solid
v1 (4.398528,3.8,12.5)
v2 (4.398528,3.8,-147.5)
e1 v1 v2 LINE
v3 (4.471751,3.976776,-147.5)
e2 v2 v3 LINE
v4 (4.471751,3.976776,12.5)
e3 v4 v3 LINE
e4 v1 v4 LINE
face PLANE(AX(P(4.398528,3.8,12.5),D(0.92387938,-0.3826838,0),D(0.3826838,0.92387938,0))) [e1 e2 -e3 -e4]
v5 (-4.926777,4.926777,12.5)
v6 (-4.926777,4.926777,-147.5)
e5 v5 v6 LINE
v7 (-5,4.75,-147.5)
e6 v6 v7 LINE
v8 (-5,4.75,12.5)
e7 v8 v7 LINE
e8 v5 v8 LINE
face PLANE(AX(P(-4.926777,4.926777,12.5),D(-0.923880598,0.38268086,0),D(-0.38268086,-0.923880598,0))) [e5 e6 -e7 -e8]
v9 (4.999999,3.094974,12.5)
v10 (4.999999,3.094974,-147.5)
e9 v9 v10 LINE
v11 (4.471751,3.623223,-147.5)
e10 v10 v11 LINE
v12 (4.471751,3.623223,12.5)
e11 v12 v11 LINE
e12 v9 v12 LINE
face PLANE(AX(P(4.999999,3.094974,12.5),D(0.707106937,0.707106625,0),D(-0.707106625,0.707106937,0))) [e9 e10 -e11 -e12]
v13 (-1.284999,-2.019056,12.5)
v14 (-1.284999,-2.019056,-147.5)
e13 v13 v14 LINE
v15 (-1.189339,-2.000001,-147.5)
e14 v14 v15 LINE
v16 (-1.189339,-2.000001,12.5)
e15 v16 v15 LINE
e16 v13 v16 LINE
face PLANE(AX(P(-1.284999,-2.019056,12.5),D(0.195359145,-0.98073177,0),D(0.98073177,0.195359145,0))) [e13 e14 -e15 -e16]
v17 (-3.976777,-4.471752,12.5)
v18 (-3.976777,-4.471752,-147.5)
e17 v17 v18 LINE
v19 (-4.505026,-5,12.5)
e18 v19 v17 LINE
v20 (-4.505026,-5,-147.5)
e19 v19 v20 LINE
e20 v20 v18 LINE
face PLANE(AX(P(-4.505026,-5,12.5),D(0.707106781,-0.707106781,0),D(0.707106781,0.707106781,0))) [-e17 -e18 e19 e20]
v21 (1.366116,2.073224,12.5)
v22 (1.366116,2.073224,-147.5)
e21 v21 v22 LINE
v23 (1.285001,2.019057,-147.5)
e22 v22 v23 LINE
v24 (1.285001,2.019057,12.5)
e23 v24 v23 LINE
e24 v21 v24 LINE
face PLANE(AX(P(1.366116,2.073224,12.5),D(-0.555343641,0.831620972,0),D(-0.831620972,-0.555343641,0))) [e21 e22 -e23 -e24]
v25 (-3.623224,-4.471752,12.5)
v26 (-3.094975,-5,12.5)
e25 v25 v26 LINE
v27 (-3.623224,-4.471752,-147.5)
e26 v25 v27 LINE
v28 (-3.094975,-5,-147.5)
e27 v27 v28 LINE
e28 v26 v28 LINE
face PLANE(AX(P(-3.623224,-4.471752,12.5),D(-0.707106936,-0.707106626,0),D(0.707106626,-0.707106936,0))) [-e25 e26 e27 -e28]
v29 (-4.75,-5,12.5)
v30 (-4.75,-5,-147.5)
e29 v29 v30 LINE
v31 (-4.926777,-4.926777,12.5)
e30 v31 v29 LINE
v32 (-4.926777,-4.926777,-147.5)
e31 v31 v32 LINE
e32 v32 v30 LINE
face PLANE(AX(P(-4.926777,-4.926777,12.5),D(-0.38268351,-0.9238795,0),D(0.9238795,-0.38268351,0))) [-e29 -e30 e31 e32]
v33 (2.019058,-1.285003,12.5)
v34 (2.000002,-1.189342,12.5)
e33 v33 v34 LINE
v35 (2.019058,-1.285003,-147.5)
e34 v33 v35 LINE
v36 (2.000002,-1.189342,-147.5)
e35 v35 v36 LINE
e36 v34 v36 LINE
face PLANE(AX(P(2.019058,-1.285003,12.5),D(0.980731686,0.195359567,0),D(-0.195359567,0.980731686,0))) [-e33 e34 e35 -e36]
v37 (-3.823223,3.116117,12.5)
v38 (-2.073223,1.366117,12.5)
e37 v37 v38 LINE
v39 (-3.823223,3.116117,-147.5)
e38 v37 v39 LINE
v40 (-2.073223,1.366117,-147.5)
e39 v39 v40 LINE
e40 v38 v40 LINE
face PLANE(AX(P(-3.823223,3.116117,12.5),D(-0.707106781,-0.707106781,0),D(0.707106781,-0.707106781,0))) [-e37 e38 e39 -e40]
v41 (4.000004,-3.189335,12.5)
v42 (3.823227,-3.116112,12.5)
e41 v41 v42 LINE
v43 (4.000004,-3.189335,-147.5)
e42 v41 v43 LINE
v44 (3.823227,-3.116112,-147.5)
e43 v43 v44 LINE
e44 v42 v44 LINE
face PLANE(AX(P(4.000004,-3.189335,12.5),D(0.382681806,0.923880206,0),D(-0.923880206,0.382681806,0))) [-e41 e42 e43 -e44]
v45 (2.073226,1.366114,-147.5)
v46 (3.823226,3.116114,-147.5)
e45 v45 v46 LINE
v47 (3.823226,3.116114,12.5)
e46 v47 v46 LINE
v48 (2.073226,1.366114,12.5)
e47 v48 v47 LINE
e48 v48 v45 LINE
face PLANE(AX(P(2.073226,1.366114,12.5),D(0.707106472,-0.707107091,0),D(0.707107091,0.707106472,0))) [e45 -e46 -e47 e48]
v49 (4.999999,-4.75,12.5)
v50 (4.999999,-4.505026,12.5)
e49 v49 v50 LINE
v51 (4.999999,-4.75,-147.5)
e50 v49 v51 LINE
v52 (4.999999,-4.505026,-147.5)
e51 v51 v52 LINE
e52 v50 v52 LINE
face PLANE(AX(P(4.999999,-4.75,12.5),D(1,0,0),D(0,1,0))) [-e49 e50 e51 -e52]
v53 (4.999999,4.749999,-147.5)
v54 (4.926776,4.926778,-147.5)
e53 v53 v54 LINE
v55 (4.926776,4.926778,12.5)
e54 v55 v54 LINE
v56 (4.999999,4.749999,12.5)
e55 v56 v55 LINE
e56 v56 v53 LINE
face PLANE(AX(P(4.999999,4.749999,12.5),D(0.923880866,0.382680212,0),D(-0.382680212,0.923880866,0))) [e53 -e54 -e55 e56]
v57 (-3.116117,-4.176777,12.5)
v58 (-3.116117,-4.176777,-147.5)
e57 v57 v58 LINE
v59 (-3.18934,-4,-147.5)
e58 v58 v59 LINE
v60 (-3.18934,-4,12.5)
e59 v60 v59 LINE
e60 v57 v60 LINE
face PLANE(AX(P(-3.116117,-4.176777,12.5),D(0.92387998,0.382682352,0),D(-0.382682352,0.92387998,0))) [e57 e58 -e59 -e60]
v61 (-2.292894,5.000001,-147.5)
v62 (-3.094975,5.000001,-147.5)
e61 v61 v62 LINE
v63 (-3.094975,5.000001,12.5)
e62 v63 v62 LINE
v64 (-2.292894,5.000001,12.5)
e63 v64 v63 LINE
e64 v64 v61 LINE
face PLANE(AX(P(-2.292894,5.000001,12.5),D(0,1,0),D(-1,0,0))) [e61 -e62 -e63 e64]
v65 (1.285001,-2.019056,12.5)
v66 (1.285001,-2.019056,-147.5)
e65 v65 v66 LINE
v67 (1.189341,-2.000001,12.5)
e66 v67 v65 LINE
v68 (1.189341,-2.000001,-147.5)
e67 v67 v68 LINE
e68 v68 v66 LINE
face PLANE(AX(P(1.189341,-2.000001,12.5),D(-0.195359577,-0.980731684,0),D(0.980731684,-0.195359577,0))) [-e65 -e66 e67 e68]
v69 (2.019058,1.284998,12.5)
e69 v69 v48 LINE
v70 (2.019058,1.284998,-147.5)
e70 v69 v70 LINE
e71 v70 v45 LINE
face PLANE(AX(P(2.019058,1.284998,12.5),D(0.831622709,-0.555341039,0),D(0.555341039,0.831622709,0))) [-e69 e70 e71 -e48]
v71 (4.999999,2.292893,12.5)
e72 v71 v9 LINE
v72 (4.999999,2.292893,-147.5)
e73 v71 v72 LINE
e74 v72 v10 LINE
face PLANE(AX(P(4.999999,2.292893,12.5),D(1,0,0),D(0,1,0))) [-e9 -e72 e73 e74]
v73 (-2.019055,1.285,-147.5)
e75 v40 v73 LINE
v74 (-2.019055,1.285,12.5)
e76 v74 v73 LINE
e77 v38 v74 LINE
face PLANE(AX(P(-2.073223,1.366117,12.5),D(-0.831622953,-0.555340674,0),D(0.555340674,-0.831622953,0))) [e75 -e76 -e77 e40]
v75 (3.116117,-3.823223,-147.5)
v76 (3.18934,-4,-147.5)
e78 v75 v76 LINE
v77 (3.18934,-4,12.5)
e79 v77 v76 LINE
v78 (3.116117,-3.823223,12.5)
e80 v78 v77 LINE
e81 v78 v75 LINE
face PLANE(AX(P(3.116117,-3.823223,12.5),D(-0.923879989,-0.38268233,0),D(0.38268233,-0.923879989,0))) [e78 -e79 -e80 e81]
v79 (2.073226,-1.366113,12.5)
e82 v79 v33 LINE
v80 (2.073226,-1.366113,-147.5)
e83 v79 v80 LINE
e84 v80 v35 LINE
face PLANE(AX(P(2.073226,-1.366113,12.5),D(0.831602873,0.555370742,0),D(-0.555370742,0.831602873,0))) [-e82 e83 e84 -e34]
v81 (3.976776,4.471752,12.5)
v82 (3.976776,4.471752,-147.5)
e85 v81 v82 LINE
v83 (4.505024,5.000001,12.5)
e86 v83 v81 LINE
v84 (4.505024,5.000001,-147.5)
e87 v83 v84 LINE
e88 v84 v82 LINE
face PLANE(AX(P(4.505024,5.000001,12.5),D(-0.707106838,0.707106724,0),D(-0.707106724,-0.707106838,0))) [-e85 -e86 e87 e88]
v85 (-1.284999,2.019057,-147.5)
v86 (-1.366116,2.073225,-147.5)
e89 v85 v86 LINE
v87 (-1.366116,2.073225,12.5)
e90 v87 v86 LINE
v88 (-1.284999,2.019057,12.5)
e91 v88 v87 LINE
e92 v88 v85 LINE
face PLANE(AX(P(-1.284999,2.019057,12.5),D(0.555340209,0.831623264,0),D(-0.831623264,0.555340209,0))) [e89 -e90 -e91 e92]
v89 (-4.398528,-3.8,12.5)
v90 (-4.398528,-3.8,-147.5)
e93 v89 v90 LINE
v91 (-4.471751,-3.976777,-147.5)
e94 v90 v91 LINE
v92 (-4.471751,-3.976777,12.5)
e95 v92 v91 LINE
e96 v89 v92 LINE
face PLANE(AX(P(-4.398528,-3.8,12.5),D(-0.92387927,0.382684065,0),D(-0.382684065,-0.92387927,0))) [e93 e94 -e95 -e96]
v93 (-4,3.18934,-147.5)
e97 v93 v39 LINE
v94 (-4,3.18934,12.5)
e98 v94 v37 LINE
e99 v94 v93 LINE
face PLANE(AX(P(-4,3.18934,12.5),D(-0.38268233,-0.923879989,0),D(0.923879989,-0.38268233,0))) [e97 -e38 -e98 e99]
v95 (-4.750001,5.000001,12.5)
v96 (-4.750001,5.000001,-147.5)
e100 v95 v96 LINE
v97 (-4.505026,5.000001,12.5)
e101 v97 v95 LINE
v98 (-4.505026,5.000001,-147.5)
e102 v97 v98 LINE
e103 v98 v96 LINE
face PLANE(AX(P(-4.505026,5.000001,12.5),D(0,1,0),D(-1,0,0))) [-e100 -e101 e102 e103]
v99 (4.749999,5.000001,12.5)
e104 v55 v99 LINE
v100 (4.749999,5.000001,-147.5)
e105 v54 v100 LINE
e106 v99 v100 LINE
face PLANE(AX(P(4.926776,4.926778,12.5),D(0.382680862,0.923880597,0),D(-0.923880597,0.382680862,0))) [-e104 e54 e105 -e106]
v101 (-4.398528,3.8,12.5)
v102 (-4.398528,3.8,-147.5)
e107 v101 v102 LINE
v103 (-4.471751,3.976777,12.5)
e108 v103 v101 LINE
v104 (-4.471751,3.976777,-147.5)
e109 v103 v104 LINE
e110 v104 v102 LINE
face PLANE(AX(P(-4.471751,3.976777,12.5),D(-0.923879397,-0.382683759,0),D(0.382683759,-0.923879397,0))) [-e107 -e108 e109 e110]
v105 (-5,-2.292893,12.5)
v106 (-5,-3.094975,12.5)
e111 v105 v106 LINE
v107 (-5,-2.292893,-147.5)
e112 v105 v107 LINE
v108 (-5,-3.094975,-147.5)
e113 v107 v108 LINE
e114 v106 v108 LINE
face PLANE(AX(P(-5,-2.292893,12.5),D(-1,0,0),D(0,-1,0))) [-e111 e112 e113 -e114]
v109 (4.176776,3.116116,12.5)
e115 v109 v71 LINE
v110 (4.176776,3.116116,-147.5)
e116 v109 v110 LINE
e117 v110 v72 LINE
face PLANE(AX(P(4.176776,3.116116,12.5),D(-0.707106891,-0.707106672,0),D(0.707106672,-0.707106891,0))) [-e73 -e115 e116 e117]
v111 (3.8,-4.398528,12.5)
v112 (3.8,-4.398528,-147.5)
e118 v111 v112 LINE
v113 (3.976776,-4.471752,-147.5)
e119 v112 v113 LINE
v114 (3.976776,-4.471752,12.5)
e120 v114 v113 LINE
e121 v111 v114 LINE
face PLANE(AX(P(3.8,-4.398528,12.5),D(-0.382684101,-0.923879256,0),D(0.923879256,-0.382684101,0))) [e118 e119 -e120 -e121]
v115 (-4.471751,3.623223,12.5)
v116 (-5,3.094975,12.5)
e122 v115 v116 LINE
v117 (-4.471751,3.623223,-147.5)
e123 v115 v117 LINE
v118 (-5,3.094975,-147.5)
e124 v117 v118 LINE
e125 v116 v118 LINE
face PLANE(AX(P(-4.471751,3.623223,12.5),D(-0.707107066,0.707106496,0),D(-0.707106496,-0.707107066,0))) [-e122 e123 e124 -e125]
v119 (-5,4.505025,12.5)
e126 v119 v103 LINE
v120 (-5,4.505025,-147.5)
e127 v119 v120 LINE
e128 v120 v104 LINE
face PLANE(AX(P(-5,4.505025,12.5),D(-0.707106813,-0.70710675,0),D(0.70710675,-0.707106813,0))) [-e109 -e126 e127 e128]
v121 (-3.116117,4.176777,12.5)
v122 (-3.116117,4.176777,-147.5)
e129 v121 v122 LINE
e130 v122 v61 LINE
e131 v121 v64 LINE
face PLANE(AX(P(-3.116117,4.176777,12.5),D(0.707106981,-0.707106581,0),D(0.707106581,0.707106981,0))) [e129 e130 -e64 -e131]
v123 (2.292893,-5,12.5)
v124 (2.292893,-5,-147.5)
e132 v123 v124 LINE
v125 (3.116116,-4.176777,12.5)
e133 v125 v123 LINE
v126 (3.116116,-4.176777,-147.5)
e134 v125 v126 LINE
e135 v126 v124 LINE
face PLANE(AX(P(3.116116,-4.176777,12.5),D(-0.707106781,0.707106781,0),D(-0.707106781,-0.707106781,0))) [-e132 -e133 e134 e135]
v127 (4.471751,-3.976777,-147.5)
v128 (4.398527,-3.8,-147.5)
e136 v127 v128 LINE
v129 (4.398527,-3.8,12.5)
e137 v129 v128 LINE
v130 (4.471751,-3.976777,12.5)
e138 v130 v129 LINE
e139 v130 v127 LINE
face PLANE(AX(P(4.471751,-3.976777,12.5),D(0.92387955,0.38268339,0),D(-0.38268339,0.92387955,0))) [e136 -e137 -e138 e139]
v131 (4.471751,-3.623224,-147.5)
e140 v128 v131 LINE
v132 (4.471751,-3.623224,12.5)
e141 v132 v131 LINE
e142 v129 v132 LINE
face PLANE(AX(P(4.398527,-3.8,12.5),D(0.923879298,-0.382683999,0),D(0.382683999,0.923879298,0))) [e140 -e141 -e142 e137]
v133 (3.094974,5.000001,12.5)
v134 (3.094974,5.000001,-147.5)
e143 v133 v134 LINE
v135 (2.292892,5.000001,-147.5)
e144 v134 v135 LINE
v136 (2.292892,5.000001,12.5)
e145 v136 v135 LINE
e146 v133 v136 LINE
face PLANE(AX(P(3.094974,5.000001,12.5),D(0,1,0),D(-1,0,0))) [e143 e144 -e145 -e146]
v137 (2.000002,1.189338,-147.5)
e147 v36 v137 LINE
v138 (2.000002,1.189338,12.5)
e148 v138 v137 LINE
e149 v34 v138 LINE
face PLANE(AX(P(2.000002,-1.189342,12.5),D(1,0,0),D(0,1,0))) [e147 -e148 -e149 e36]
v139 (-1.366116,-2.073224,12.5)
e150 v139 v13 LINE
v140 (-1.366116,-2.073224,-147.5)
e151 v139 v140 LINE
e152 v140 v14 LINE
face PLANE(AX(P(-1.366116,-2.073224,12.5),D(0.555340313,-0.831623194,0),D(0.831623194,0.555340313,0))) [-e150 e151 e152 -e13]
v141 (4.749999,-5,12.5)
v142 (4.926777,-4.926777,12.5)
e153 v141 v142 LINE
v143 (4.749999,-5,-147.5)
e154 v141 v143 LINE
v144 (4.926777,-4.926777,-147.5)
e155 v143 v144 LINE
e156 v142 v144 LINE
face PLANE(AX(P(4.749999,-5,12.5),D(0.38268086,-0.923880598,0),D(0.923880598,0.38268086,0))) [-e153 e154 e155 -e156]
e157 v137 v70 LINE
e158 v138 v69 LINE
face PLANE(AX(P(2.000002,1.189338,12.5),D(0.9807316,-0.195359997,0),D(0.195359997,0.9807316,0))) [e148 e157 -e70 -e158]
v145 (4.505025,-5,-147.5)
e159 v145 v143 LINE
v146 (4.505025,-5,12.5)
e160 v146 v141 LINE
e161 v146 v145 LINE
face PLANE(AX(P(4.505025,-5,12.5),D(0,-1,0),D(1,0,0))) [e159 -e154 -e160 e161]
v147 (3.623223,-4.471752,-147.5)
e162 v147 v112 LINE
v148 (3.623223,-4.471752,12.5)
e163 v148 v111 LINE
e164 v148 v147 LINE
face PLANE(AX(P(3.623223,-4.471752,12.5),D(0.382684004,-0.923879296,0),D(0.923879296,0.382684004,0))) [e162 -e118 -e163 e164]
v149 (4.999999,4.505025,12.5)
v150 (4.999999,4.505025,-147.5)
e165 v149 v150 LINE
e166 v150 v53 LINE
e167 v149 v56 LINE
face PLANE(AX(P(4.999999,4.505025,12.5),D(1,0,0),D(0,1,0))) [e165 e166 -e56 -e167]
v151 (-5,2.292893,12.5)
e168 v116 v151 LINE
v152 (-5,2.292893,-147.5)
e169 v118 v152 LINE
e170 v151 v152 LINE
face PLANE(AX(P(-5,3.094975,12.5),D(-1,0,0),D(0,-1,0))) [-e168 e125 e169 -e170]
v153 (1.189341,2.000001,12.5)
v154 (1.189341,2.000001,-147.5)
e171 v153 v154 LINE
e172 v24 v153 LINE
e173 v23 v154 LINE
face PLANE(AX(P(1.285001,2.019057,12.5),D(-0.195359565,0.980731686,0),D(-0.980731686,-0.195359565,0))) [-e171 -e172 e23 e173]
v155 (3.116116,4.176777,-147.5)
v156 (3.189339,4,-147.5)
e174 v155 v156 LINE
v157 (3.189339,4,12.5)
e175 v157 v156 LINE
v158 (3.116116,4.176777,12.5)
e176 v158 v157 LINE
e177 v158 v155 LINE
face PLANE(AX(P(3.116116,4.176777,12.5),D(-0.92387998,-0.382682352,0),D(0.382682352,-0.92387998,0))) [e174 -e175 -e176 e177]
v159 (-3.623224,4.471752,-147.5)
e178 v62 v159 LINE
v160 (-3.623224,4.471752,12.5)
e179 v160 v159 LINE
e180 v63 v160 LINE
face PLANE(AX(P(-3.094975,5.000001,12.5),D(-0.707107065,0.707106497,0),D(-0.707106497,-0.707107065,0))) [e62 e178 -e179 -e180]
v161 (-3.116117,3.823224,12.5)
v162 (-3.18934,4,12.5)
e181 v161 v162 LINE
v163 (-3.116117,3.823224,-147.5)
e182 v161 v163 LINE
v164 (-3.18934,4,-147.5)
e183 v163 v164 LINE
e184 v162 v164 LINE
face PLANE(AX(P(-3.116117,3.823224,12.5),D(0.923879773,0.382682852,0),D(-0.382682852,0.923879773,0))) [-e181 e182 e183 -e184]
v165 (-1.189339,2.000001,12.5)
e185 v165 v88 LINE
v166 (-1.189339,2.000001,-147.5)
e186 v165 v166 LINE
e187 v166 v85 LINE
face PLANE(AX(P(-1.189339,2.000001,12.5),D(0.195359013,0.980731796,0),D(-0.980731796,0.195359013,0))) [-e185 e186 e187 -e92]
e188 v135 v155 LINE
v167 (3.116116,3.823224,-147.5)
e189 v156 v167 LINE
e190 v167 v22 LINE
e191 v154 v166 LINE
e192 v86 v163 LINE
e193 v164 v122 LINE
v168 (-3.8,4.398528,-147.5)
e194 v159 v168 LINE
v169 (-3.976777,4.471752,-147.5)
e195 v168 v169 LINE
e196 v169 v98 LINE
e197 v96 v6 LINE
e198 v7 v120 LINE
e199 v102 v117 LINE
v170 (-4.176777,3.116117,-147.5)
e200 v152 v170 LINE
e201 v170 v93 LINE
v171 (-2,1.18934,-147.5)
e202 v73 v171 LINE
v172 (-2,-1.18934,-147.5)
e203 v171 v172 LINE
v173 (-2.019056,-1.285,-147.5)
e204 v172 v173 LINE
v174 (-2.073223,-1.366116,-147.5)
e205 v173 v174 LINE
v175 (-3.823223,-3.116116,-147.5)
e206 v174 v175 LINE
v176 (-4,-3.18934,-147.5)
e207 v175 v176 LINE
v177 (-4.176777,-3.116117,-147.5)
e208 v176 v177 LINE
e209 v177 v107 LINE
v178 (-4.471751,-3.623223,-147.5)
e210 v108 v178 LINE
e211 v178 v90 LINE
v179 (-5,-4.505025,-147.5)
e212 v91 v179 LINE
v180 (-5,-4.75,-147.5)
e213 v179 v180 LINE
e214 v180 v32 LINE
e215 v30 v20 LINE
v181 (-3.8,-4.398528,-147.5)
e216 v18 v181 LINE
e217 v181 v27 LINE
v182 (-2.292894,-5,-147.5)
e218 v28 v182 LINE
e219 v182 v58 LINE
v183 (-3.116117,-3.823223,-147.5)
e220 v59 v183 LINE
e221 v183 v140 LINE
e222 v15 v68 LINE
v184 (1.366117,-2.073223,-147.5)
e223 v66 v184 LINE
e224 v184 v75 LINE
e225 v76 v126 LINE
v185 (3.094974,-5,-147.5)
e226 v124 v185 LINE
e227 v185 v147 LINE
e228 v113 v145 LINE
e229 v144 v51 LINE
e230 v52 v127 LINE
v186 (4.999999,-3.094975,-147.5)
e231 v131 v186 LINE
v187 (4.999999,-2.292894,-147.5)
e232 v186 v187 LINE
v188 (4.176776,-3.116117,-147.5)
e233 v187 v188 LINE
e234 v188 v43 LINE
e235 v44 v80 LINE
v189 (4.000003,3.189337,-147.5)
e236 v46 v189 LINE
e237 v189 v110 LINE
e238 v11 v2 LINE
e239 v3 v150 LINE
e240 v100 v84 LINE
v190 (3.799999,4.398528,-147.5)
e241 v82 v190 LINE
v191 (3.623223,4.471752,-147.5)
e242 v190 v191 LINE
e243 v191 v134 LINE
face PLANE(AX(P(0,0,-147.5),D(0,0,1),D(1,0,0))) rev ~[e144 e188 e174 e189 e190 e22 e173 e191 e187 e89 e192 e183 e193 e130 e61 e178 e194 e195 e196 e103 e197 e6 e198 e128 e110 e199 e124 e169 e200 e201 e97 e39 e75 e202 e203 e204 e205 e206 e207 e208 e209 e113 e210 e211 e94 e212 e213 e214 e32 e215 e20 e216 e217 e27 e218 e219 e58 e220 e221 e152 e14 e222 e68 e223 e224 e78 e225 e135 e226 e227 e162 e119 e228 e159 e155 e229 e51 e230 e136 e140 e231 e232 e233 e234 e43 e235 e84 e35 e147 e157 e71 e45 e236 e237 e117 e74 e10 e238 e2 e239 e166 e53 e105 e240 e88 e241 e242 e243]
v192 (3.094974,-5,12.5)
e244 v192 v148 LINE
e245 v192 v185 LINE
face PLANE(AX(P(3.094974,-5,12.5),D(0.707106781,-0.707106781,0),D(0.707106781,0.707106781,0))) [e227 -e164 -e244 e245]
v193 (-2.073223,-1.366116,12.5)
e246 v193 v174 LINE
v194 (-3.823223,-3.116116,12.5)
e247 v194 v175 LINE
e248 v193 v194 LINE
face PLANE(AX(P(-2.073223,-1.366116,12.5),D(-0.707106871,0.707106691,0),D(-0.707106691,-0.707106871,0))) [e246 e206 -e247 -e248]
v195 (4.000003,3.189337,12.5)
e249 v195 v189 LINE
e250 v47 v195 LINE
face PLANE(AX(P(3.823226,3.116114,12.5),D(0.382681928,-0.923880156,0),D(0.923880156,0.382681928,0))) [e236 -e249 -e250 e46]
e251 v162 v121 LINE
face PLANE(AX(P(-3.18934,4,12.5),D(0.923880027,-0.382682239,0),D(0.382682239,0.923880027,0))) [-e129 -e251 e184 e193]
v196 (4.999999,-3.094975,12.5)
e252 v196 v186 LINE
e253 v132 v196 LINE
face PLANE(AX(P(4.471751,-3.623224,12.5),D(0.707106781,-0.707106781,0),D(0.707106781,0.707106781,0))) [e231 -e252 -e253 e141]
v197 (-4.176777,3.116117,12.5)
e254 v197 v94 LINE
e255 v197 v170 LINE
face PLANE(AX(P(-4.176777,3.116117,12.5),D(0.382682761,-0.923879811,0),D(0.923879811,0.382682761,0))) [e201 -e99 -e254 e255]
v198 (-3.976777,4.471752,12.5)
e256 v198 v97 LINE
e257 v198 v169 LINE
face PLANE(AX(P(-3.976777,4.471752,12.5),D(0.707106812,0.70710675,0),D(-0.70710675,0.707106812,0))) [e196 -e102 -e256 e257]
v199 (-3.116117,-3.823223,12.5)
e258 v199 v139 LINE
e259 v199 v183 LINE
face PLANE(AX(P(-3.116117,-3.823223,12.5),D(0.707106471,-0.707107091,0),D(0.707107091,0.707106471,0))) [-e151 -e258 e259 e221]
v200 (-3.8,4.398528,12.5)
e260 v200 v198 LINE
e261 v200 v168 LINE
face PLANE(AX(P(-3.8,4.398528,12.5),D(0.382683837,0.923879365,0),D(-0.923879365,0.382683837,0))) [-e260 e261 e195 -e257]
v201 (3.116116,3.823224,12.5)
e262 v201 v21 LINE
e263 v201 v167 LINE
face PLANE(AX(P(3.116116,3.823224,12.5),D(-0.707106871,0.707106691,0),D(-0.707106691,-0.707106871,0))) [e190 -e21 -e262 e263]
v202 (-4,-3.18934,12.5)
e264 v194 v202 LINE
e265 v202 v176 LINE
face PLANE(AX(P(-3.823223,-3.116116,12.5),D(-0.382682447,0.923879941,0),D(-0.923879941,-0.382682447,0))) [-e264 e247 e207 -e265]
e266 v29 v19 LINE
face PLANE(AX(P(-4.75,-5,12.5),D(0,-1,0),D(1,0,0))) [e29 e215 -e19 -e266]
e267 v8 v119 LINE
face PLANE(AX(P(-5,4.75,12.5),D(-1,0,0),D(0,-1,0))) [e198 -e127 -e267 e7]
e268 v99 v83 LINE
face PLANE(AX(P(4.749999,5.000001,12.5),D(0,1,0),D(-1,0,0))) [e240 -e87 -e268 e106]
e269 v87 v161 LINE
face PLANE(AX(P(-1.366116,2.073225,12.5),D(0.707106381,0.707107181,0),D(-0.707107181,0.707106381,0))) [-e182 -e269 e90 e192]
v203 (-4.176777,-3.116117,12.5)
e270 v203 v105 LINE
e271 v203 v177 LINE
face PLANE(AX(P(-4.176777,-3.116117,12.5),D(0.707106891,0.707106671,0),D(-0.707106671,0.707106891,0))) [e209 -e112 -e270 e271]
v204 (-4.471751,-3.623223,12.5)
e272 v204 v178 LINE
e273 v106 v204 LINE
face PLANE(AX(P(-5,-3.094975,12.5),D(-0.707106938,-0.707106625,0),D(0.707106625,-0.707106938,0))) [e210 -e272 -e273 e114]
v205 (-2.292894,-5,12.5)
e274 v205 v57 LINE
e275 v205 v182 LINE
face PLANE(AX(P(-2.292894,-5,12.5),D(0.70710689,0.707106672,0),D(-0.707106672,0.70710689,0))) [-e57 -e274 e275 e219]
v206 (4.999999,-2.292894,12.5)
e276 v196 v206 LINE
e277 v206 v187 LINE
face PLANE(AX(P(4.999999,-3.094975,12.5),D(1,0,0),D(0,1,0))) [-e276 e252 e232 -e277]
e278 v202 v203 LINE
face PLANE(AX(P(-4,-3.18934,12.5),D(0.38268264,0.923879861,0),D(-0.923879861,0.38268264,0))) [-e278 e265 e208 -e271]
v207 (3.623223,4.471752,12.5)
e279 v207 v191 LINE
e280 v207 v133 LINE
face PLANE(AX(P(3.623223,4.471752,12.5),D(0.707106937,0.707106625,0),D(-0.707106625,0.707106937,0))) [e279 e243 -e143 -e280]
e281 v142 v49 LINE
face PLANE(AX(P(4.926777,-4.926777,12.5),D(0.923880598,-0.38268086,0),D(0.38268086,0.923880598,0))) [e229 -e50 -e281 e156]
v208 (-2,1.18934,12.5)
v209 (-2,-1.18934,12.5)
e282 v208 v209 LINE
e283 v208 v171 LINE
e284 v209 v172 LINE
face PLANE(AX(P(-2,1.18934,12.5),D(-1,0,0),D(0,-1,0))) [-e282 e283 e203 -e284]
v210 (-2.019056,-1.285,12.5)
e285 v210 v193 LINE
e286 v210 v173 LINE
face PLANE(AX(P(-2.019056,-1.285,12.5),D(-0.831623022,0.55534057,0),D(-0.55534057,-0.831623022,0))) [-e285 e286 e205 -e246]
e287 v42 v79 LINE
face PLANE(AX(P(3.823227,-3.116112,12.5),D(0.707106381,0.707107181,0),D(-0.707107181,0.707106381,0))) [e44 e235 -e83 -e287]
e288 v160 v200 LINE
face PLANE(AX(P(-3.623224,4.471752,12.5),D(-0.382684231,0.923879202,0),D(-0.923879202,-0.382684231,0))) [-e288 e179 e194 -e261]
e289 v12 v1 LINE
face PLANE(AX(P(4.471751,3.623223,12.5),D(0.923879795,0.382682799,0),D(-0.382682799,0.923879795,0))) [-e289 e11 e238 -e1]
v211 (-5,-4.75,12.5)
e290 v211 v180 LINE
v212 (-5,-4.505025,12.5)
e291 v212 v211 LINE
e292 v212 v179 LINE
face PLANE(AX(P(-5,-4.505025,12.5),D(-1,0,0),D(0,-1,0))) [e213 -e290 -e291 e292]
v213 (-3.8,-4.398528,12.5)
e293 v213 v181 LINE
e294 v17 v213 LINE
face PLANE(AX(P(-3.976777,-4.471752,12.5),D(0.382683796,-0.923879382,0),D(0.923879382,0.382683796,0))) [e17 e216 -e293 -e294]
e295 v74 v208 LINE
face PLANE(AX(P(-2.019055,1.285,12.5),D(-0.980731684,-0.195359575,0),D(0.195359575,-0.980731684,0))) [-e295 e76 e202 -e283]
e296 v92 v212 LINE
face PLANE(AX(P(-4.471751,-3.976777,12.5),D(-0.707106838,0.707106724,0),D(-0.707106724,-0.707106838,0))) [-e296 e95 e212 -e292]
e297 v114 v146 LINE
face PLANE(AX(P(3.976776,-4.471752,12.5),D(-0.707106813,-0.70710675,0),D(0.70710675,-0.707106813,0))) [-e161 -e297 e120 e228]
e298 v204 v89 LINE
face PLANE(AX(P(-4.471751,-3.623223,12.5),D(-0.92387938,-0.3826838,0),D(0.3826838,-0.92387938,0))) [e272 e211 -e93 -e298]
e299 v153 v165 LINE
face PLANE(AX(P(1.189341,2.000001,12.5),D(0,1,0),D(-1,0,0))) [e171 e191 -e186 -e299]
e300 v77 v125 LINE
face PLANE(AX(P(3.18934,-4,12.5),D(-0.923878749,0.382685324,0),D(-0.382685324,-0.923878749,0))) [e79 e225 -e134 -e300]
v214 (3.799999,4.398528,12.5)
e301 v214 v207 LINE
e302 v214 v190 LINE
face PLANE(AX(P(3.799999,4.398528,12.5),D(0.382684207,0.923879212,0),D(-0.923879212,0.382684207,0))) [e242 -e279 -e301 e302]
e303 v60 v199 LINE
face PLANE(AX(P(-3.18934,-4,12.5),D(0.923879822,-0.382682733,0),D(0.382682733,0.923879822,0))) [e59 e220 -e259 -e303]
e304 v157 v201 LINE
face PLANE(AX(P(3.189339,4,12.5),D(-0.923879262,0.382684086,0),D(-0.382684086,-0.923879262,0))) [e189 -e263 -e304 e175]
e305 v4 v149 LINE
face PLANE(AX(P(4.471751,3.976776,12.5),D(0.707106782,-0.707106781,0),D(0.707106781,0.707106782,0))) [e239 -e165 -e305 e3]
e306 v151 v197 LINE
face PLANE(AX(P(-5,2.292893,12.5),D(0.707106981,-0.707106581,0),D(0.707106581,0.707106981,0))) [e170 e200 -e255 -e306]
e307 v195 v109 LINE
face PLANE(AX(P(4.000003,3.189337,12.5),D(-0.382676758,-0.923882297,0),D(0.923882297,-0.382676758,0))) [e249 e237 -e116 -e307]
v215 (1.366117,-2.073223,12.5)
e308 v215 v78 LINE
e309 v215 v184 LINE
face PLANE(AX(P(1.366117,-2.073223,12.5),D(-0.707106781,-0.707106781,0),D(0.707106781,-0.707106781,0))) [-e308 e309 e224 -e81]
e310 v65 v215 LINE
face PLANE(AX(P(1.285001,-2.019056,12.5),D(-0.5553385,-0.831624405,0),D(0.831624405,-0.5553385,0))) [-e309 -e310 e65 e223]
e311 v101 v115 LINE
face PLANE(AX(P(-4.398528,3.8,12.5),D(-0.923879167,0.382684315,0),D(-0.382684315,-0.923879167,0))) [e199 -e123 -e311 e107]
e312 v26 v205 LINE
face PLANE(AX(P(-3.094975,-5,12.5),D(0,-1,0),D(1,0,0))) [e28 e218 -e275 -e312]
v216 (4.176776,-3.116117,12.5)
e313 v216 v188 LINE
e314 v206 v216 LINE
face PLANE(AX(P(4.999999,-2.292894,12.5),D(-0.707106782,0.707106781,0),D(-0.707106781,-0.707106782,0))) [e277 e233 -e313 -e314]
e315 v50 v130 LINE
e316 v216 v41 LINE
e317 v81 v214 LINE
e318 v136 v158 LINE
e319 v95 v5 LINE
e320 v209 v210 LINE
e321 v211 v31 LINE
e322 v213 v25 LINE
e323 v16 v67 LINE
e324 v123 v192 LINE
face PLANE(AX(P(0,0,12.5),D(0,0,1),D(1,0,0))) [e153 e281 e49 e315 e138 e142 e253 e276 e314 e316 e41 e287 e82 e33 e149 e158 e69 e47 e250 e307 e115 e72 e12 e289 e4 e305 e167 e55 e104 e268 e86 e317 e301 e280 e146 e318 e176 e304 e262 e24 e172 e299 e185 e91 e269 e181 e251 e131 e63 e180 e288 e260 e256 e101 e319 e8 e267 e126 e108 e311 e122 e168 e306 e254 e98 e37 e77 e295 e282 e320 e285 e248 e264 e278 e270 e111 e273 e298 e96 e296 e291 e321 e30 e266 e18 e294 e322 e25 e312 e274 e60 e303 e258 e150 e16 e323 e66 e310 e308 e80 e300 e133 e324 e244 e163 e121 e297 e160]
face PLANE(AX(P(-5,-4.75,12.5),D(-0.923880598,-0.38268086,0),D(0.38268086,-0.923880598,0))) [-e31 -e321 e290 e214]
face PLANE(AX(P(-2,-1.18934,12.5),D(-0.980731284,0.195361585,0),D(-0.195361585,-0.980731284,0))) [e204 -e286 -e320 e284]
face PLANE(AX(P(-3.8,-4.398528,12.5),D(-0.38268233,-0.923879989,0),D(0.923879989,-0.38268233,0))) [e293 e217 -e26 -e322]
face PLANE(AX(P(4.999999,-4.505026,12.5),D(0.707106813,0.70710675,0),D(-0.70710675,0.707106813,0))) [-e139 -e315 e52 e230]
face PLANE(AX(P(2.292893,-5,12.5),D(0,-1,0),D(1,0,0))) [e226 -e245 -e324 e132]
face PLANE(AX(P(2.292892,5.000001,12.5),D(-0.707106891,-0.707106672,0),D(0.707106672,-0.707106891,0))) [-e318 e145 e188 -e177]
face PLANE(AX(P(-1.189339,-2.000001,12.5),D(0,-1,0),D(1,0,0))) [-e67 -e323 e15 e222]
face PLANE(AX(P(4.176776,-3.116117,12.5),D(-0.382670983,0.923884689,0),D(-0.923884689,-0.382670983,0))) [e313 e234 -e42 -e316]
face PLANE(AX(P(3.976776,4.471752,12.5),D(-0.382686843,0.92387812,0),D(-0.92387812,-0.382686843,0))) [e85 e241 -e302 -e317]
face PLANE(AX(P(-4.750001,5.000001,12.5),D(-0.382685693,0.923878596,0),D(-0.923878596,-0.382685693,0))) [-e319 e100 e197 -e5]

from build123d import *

# Parameters (mm, degrees)
BOSS_EXTRUDE1_DEPTH = 160


with BuildPart() as part:
    # Sketch1 → Boss-Extrude1 (new body)
    with BuildSketch(Plane.XY.offset(12.500000186)):
        Polygon((1.366116014, 2.07322405), (1.28500117, 2.01905681), (1.189340837, 2.000001485), (-1.189338975, 2.000001485), (-1.284999318, 2.019056756), (-1.366115682, 2.073224527), (-3.116116726, 3.823223591), (-3.189339968, 4.000000449), (-3.116116926, 4.176777156), (-2.292893894, 5.000000654), (-3.094975438, 5.000000654), (-3.623223835, 4.471751833), (-3.800000473, 4.398528373), (-3.976777136, 4.471751755), (-4.505025989, 5.000000654), (-4.750000613, 5.000000654), (-4.926776979, 4.926776979), (-4.999999888, 4.749999847), (-4.999999888, 4.505025223), (-4.471751419, 3.976776707), (-4.398528052, 3.800000038), (-4.471751492, 3.623223494), (-4.999999888, 3.094974672), (-4.999999888, 2.292893128), (-4.176776856, 3.116116626), (-4.00000019, 3.189339768), (-3.823223291, 3.116116626), (-2.073223237, 1.366116572), (-2.019055421, 1.285000239), (-2.000000095, 1.189339906), (-2.000000095, -1.189339906), (-2.019055549, -1.284999858), (-2.073223355, -1.366116198), (-3.823223186, -3.116116476), (-4.000000075, -3.18933964), (-4.176776751, -3.116116521), (-4.999999888, -2.292893128), (-4.999999888, -3.094974672), (-4.471751396, -3.623223398), (-4.398528021, -3.800000064), (-4.471751438, -3.976776688), (-4.999999888, -4.505025223), (-4.999999888, -4.749999847), (-4.926776979, -4.926776979), (-4.750000267, -5.000000308), (-4.505025643, -5.000000308), (-3.97677715, -4.471751815), (-3.800000484, -4.398528441), (-3.623223585, -4.471751583), (-3.094975092, -5.000000308), (-2.292893548, -5.000000308), (-3.116116686, -4.176776916), (-3.18933975, -4.000000217), (-3.116116531, -3.82322335), (-1.36611571, -2.073224063), (-1.284999353, -2.019056282), (-1.189339012, -2.000000998), (1.1893408, -2.000000998), (1.285001132, -2.019056324), (1.366116572, -2.073223237), (3.116116626, -3.823223291), (3.189339768, -4.00000019), (3.116115974, -4.176777043), (2.292892709, -5.000000308), (3.094974253, -5.000000308), (3.623222862, -4.471751699), (3.799999512, -4.398528285), (3.976776334, -4.471751792), (4.505024803, -5.000000308), (4.749999427, -5.000000308), (4.926776559, -4.926777399), (4.999999468, -4.750000267), (4.999999468, -4.505025643), (4.471750616, -3.976776744), (4.398527446, -3.800000351), (4.471750859, -3.623223701), (4.999999468, -3.094975092), (4.999999468, -2.292893548), (4.176776204, -3.116116813), (4.000004057, -3.189335443), (3.823227116, -3.116112401), (2.073226072, -1.366113337), (2.019057711, -1.285002538), (2.000002386, -1.189342206), (2.000002386, 1.189337606), (2.019057753, 1.28499793), (2.073225605, 1.36611424), (3.823226425, 3.116113528), (4.000003356, 3.189336593), (4.176775948, 3.116116484), (4.999999468, 2.292892709), (4.999999468, 3.094974253), (4.471750593, 3.623223361), (4.398527601, 3.799999644), (4.471750976, 3.97677631), (4.999999468, 4.505024803), (4.999999468, 4.749999427), (4.926776213, 4.926777745), (4.749999082, 5.000000654), (4.505024457, 5.000000654), (3.976776007, 4.471752119), (3.799999416, 4.398528093), (3.623222782, 4.471751546), (3.094973907, 5.000000654), (2.292892363, 5.000000654), (3.116115883, 4.176776879), (3.189338947, 4.00000018), (3.116115845, 3.823224328), align=None)
    extrude(amount=-BOSS_EXTRUDE1_DEPTH)


solid = part.part
